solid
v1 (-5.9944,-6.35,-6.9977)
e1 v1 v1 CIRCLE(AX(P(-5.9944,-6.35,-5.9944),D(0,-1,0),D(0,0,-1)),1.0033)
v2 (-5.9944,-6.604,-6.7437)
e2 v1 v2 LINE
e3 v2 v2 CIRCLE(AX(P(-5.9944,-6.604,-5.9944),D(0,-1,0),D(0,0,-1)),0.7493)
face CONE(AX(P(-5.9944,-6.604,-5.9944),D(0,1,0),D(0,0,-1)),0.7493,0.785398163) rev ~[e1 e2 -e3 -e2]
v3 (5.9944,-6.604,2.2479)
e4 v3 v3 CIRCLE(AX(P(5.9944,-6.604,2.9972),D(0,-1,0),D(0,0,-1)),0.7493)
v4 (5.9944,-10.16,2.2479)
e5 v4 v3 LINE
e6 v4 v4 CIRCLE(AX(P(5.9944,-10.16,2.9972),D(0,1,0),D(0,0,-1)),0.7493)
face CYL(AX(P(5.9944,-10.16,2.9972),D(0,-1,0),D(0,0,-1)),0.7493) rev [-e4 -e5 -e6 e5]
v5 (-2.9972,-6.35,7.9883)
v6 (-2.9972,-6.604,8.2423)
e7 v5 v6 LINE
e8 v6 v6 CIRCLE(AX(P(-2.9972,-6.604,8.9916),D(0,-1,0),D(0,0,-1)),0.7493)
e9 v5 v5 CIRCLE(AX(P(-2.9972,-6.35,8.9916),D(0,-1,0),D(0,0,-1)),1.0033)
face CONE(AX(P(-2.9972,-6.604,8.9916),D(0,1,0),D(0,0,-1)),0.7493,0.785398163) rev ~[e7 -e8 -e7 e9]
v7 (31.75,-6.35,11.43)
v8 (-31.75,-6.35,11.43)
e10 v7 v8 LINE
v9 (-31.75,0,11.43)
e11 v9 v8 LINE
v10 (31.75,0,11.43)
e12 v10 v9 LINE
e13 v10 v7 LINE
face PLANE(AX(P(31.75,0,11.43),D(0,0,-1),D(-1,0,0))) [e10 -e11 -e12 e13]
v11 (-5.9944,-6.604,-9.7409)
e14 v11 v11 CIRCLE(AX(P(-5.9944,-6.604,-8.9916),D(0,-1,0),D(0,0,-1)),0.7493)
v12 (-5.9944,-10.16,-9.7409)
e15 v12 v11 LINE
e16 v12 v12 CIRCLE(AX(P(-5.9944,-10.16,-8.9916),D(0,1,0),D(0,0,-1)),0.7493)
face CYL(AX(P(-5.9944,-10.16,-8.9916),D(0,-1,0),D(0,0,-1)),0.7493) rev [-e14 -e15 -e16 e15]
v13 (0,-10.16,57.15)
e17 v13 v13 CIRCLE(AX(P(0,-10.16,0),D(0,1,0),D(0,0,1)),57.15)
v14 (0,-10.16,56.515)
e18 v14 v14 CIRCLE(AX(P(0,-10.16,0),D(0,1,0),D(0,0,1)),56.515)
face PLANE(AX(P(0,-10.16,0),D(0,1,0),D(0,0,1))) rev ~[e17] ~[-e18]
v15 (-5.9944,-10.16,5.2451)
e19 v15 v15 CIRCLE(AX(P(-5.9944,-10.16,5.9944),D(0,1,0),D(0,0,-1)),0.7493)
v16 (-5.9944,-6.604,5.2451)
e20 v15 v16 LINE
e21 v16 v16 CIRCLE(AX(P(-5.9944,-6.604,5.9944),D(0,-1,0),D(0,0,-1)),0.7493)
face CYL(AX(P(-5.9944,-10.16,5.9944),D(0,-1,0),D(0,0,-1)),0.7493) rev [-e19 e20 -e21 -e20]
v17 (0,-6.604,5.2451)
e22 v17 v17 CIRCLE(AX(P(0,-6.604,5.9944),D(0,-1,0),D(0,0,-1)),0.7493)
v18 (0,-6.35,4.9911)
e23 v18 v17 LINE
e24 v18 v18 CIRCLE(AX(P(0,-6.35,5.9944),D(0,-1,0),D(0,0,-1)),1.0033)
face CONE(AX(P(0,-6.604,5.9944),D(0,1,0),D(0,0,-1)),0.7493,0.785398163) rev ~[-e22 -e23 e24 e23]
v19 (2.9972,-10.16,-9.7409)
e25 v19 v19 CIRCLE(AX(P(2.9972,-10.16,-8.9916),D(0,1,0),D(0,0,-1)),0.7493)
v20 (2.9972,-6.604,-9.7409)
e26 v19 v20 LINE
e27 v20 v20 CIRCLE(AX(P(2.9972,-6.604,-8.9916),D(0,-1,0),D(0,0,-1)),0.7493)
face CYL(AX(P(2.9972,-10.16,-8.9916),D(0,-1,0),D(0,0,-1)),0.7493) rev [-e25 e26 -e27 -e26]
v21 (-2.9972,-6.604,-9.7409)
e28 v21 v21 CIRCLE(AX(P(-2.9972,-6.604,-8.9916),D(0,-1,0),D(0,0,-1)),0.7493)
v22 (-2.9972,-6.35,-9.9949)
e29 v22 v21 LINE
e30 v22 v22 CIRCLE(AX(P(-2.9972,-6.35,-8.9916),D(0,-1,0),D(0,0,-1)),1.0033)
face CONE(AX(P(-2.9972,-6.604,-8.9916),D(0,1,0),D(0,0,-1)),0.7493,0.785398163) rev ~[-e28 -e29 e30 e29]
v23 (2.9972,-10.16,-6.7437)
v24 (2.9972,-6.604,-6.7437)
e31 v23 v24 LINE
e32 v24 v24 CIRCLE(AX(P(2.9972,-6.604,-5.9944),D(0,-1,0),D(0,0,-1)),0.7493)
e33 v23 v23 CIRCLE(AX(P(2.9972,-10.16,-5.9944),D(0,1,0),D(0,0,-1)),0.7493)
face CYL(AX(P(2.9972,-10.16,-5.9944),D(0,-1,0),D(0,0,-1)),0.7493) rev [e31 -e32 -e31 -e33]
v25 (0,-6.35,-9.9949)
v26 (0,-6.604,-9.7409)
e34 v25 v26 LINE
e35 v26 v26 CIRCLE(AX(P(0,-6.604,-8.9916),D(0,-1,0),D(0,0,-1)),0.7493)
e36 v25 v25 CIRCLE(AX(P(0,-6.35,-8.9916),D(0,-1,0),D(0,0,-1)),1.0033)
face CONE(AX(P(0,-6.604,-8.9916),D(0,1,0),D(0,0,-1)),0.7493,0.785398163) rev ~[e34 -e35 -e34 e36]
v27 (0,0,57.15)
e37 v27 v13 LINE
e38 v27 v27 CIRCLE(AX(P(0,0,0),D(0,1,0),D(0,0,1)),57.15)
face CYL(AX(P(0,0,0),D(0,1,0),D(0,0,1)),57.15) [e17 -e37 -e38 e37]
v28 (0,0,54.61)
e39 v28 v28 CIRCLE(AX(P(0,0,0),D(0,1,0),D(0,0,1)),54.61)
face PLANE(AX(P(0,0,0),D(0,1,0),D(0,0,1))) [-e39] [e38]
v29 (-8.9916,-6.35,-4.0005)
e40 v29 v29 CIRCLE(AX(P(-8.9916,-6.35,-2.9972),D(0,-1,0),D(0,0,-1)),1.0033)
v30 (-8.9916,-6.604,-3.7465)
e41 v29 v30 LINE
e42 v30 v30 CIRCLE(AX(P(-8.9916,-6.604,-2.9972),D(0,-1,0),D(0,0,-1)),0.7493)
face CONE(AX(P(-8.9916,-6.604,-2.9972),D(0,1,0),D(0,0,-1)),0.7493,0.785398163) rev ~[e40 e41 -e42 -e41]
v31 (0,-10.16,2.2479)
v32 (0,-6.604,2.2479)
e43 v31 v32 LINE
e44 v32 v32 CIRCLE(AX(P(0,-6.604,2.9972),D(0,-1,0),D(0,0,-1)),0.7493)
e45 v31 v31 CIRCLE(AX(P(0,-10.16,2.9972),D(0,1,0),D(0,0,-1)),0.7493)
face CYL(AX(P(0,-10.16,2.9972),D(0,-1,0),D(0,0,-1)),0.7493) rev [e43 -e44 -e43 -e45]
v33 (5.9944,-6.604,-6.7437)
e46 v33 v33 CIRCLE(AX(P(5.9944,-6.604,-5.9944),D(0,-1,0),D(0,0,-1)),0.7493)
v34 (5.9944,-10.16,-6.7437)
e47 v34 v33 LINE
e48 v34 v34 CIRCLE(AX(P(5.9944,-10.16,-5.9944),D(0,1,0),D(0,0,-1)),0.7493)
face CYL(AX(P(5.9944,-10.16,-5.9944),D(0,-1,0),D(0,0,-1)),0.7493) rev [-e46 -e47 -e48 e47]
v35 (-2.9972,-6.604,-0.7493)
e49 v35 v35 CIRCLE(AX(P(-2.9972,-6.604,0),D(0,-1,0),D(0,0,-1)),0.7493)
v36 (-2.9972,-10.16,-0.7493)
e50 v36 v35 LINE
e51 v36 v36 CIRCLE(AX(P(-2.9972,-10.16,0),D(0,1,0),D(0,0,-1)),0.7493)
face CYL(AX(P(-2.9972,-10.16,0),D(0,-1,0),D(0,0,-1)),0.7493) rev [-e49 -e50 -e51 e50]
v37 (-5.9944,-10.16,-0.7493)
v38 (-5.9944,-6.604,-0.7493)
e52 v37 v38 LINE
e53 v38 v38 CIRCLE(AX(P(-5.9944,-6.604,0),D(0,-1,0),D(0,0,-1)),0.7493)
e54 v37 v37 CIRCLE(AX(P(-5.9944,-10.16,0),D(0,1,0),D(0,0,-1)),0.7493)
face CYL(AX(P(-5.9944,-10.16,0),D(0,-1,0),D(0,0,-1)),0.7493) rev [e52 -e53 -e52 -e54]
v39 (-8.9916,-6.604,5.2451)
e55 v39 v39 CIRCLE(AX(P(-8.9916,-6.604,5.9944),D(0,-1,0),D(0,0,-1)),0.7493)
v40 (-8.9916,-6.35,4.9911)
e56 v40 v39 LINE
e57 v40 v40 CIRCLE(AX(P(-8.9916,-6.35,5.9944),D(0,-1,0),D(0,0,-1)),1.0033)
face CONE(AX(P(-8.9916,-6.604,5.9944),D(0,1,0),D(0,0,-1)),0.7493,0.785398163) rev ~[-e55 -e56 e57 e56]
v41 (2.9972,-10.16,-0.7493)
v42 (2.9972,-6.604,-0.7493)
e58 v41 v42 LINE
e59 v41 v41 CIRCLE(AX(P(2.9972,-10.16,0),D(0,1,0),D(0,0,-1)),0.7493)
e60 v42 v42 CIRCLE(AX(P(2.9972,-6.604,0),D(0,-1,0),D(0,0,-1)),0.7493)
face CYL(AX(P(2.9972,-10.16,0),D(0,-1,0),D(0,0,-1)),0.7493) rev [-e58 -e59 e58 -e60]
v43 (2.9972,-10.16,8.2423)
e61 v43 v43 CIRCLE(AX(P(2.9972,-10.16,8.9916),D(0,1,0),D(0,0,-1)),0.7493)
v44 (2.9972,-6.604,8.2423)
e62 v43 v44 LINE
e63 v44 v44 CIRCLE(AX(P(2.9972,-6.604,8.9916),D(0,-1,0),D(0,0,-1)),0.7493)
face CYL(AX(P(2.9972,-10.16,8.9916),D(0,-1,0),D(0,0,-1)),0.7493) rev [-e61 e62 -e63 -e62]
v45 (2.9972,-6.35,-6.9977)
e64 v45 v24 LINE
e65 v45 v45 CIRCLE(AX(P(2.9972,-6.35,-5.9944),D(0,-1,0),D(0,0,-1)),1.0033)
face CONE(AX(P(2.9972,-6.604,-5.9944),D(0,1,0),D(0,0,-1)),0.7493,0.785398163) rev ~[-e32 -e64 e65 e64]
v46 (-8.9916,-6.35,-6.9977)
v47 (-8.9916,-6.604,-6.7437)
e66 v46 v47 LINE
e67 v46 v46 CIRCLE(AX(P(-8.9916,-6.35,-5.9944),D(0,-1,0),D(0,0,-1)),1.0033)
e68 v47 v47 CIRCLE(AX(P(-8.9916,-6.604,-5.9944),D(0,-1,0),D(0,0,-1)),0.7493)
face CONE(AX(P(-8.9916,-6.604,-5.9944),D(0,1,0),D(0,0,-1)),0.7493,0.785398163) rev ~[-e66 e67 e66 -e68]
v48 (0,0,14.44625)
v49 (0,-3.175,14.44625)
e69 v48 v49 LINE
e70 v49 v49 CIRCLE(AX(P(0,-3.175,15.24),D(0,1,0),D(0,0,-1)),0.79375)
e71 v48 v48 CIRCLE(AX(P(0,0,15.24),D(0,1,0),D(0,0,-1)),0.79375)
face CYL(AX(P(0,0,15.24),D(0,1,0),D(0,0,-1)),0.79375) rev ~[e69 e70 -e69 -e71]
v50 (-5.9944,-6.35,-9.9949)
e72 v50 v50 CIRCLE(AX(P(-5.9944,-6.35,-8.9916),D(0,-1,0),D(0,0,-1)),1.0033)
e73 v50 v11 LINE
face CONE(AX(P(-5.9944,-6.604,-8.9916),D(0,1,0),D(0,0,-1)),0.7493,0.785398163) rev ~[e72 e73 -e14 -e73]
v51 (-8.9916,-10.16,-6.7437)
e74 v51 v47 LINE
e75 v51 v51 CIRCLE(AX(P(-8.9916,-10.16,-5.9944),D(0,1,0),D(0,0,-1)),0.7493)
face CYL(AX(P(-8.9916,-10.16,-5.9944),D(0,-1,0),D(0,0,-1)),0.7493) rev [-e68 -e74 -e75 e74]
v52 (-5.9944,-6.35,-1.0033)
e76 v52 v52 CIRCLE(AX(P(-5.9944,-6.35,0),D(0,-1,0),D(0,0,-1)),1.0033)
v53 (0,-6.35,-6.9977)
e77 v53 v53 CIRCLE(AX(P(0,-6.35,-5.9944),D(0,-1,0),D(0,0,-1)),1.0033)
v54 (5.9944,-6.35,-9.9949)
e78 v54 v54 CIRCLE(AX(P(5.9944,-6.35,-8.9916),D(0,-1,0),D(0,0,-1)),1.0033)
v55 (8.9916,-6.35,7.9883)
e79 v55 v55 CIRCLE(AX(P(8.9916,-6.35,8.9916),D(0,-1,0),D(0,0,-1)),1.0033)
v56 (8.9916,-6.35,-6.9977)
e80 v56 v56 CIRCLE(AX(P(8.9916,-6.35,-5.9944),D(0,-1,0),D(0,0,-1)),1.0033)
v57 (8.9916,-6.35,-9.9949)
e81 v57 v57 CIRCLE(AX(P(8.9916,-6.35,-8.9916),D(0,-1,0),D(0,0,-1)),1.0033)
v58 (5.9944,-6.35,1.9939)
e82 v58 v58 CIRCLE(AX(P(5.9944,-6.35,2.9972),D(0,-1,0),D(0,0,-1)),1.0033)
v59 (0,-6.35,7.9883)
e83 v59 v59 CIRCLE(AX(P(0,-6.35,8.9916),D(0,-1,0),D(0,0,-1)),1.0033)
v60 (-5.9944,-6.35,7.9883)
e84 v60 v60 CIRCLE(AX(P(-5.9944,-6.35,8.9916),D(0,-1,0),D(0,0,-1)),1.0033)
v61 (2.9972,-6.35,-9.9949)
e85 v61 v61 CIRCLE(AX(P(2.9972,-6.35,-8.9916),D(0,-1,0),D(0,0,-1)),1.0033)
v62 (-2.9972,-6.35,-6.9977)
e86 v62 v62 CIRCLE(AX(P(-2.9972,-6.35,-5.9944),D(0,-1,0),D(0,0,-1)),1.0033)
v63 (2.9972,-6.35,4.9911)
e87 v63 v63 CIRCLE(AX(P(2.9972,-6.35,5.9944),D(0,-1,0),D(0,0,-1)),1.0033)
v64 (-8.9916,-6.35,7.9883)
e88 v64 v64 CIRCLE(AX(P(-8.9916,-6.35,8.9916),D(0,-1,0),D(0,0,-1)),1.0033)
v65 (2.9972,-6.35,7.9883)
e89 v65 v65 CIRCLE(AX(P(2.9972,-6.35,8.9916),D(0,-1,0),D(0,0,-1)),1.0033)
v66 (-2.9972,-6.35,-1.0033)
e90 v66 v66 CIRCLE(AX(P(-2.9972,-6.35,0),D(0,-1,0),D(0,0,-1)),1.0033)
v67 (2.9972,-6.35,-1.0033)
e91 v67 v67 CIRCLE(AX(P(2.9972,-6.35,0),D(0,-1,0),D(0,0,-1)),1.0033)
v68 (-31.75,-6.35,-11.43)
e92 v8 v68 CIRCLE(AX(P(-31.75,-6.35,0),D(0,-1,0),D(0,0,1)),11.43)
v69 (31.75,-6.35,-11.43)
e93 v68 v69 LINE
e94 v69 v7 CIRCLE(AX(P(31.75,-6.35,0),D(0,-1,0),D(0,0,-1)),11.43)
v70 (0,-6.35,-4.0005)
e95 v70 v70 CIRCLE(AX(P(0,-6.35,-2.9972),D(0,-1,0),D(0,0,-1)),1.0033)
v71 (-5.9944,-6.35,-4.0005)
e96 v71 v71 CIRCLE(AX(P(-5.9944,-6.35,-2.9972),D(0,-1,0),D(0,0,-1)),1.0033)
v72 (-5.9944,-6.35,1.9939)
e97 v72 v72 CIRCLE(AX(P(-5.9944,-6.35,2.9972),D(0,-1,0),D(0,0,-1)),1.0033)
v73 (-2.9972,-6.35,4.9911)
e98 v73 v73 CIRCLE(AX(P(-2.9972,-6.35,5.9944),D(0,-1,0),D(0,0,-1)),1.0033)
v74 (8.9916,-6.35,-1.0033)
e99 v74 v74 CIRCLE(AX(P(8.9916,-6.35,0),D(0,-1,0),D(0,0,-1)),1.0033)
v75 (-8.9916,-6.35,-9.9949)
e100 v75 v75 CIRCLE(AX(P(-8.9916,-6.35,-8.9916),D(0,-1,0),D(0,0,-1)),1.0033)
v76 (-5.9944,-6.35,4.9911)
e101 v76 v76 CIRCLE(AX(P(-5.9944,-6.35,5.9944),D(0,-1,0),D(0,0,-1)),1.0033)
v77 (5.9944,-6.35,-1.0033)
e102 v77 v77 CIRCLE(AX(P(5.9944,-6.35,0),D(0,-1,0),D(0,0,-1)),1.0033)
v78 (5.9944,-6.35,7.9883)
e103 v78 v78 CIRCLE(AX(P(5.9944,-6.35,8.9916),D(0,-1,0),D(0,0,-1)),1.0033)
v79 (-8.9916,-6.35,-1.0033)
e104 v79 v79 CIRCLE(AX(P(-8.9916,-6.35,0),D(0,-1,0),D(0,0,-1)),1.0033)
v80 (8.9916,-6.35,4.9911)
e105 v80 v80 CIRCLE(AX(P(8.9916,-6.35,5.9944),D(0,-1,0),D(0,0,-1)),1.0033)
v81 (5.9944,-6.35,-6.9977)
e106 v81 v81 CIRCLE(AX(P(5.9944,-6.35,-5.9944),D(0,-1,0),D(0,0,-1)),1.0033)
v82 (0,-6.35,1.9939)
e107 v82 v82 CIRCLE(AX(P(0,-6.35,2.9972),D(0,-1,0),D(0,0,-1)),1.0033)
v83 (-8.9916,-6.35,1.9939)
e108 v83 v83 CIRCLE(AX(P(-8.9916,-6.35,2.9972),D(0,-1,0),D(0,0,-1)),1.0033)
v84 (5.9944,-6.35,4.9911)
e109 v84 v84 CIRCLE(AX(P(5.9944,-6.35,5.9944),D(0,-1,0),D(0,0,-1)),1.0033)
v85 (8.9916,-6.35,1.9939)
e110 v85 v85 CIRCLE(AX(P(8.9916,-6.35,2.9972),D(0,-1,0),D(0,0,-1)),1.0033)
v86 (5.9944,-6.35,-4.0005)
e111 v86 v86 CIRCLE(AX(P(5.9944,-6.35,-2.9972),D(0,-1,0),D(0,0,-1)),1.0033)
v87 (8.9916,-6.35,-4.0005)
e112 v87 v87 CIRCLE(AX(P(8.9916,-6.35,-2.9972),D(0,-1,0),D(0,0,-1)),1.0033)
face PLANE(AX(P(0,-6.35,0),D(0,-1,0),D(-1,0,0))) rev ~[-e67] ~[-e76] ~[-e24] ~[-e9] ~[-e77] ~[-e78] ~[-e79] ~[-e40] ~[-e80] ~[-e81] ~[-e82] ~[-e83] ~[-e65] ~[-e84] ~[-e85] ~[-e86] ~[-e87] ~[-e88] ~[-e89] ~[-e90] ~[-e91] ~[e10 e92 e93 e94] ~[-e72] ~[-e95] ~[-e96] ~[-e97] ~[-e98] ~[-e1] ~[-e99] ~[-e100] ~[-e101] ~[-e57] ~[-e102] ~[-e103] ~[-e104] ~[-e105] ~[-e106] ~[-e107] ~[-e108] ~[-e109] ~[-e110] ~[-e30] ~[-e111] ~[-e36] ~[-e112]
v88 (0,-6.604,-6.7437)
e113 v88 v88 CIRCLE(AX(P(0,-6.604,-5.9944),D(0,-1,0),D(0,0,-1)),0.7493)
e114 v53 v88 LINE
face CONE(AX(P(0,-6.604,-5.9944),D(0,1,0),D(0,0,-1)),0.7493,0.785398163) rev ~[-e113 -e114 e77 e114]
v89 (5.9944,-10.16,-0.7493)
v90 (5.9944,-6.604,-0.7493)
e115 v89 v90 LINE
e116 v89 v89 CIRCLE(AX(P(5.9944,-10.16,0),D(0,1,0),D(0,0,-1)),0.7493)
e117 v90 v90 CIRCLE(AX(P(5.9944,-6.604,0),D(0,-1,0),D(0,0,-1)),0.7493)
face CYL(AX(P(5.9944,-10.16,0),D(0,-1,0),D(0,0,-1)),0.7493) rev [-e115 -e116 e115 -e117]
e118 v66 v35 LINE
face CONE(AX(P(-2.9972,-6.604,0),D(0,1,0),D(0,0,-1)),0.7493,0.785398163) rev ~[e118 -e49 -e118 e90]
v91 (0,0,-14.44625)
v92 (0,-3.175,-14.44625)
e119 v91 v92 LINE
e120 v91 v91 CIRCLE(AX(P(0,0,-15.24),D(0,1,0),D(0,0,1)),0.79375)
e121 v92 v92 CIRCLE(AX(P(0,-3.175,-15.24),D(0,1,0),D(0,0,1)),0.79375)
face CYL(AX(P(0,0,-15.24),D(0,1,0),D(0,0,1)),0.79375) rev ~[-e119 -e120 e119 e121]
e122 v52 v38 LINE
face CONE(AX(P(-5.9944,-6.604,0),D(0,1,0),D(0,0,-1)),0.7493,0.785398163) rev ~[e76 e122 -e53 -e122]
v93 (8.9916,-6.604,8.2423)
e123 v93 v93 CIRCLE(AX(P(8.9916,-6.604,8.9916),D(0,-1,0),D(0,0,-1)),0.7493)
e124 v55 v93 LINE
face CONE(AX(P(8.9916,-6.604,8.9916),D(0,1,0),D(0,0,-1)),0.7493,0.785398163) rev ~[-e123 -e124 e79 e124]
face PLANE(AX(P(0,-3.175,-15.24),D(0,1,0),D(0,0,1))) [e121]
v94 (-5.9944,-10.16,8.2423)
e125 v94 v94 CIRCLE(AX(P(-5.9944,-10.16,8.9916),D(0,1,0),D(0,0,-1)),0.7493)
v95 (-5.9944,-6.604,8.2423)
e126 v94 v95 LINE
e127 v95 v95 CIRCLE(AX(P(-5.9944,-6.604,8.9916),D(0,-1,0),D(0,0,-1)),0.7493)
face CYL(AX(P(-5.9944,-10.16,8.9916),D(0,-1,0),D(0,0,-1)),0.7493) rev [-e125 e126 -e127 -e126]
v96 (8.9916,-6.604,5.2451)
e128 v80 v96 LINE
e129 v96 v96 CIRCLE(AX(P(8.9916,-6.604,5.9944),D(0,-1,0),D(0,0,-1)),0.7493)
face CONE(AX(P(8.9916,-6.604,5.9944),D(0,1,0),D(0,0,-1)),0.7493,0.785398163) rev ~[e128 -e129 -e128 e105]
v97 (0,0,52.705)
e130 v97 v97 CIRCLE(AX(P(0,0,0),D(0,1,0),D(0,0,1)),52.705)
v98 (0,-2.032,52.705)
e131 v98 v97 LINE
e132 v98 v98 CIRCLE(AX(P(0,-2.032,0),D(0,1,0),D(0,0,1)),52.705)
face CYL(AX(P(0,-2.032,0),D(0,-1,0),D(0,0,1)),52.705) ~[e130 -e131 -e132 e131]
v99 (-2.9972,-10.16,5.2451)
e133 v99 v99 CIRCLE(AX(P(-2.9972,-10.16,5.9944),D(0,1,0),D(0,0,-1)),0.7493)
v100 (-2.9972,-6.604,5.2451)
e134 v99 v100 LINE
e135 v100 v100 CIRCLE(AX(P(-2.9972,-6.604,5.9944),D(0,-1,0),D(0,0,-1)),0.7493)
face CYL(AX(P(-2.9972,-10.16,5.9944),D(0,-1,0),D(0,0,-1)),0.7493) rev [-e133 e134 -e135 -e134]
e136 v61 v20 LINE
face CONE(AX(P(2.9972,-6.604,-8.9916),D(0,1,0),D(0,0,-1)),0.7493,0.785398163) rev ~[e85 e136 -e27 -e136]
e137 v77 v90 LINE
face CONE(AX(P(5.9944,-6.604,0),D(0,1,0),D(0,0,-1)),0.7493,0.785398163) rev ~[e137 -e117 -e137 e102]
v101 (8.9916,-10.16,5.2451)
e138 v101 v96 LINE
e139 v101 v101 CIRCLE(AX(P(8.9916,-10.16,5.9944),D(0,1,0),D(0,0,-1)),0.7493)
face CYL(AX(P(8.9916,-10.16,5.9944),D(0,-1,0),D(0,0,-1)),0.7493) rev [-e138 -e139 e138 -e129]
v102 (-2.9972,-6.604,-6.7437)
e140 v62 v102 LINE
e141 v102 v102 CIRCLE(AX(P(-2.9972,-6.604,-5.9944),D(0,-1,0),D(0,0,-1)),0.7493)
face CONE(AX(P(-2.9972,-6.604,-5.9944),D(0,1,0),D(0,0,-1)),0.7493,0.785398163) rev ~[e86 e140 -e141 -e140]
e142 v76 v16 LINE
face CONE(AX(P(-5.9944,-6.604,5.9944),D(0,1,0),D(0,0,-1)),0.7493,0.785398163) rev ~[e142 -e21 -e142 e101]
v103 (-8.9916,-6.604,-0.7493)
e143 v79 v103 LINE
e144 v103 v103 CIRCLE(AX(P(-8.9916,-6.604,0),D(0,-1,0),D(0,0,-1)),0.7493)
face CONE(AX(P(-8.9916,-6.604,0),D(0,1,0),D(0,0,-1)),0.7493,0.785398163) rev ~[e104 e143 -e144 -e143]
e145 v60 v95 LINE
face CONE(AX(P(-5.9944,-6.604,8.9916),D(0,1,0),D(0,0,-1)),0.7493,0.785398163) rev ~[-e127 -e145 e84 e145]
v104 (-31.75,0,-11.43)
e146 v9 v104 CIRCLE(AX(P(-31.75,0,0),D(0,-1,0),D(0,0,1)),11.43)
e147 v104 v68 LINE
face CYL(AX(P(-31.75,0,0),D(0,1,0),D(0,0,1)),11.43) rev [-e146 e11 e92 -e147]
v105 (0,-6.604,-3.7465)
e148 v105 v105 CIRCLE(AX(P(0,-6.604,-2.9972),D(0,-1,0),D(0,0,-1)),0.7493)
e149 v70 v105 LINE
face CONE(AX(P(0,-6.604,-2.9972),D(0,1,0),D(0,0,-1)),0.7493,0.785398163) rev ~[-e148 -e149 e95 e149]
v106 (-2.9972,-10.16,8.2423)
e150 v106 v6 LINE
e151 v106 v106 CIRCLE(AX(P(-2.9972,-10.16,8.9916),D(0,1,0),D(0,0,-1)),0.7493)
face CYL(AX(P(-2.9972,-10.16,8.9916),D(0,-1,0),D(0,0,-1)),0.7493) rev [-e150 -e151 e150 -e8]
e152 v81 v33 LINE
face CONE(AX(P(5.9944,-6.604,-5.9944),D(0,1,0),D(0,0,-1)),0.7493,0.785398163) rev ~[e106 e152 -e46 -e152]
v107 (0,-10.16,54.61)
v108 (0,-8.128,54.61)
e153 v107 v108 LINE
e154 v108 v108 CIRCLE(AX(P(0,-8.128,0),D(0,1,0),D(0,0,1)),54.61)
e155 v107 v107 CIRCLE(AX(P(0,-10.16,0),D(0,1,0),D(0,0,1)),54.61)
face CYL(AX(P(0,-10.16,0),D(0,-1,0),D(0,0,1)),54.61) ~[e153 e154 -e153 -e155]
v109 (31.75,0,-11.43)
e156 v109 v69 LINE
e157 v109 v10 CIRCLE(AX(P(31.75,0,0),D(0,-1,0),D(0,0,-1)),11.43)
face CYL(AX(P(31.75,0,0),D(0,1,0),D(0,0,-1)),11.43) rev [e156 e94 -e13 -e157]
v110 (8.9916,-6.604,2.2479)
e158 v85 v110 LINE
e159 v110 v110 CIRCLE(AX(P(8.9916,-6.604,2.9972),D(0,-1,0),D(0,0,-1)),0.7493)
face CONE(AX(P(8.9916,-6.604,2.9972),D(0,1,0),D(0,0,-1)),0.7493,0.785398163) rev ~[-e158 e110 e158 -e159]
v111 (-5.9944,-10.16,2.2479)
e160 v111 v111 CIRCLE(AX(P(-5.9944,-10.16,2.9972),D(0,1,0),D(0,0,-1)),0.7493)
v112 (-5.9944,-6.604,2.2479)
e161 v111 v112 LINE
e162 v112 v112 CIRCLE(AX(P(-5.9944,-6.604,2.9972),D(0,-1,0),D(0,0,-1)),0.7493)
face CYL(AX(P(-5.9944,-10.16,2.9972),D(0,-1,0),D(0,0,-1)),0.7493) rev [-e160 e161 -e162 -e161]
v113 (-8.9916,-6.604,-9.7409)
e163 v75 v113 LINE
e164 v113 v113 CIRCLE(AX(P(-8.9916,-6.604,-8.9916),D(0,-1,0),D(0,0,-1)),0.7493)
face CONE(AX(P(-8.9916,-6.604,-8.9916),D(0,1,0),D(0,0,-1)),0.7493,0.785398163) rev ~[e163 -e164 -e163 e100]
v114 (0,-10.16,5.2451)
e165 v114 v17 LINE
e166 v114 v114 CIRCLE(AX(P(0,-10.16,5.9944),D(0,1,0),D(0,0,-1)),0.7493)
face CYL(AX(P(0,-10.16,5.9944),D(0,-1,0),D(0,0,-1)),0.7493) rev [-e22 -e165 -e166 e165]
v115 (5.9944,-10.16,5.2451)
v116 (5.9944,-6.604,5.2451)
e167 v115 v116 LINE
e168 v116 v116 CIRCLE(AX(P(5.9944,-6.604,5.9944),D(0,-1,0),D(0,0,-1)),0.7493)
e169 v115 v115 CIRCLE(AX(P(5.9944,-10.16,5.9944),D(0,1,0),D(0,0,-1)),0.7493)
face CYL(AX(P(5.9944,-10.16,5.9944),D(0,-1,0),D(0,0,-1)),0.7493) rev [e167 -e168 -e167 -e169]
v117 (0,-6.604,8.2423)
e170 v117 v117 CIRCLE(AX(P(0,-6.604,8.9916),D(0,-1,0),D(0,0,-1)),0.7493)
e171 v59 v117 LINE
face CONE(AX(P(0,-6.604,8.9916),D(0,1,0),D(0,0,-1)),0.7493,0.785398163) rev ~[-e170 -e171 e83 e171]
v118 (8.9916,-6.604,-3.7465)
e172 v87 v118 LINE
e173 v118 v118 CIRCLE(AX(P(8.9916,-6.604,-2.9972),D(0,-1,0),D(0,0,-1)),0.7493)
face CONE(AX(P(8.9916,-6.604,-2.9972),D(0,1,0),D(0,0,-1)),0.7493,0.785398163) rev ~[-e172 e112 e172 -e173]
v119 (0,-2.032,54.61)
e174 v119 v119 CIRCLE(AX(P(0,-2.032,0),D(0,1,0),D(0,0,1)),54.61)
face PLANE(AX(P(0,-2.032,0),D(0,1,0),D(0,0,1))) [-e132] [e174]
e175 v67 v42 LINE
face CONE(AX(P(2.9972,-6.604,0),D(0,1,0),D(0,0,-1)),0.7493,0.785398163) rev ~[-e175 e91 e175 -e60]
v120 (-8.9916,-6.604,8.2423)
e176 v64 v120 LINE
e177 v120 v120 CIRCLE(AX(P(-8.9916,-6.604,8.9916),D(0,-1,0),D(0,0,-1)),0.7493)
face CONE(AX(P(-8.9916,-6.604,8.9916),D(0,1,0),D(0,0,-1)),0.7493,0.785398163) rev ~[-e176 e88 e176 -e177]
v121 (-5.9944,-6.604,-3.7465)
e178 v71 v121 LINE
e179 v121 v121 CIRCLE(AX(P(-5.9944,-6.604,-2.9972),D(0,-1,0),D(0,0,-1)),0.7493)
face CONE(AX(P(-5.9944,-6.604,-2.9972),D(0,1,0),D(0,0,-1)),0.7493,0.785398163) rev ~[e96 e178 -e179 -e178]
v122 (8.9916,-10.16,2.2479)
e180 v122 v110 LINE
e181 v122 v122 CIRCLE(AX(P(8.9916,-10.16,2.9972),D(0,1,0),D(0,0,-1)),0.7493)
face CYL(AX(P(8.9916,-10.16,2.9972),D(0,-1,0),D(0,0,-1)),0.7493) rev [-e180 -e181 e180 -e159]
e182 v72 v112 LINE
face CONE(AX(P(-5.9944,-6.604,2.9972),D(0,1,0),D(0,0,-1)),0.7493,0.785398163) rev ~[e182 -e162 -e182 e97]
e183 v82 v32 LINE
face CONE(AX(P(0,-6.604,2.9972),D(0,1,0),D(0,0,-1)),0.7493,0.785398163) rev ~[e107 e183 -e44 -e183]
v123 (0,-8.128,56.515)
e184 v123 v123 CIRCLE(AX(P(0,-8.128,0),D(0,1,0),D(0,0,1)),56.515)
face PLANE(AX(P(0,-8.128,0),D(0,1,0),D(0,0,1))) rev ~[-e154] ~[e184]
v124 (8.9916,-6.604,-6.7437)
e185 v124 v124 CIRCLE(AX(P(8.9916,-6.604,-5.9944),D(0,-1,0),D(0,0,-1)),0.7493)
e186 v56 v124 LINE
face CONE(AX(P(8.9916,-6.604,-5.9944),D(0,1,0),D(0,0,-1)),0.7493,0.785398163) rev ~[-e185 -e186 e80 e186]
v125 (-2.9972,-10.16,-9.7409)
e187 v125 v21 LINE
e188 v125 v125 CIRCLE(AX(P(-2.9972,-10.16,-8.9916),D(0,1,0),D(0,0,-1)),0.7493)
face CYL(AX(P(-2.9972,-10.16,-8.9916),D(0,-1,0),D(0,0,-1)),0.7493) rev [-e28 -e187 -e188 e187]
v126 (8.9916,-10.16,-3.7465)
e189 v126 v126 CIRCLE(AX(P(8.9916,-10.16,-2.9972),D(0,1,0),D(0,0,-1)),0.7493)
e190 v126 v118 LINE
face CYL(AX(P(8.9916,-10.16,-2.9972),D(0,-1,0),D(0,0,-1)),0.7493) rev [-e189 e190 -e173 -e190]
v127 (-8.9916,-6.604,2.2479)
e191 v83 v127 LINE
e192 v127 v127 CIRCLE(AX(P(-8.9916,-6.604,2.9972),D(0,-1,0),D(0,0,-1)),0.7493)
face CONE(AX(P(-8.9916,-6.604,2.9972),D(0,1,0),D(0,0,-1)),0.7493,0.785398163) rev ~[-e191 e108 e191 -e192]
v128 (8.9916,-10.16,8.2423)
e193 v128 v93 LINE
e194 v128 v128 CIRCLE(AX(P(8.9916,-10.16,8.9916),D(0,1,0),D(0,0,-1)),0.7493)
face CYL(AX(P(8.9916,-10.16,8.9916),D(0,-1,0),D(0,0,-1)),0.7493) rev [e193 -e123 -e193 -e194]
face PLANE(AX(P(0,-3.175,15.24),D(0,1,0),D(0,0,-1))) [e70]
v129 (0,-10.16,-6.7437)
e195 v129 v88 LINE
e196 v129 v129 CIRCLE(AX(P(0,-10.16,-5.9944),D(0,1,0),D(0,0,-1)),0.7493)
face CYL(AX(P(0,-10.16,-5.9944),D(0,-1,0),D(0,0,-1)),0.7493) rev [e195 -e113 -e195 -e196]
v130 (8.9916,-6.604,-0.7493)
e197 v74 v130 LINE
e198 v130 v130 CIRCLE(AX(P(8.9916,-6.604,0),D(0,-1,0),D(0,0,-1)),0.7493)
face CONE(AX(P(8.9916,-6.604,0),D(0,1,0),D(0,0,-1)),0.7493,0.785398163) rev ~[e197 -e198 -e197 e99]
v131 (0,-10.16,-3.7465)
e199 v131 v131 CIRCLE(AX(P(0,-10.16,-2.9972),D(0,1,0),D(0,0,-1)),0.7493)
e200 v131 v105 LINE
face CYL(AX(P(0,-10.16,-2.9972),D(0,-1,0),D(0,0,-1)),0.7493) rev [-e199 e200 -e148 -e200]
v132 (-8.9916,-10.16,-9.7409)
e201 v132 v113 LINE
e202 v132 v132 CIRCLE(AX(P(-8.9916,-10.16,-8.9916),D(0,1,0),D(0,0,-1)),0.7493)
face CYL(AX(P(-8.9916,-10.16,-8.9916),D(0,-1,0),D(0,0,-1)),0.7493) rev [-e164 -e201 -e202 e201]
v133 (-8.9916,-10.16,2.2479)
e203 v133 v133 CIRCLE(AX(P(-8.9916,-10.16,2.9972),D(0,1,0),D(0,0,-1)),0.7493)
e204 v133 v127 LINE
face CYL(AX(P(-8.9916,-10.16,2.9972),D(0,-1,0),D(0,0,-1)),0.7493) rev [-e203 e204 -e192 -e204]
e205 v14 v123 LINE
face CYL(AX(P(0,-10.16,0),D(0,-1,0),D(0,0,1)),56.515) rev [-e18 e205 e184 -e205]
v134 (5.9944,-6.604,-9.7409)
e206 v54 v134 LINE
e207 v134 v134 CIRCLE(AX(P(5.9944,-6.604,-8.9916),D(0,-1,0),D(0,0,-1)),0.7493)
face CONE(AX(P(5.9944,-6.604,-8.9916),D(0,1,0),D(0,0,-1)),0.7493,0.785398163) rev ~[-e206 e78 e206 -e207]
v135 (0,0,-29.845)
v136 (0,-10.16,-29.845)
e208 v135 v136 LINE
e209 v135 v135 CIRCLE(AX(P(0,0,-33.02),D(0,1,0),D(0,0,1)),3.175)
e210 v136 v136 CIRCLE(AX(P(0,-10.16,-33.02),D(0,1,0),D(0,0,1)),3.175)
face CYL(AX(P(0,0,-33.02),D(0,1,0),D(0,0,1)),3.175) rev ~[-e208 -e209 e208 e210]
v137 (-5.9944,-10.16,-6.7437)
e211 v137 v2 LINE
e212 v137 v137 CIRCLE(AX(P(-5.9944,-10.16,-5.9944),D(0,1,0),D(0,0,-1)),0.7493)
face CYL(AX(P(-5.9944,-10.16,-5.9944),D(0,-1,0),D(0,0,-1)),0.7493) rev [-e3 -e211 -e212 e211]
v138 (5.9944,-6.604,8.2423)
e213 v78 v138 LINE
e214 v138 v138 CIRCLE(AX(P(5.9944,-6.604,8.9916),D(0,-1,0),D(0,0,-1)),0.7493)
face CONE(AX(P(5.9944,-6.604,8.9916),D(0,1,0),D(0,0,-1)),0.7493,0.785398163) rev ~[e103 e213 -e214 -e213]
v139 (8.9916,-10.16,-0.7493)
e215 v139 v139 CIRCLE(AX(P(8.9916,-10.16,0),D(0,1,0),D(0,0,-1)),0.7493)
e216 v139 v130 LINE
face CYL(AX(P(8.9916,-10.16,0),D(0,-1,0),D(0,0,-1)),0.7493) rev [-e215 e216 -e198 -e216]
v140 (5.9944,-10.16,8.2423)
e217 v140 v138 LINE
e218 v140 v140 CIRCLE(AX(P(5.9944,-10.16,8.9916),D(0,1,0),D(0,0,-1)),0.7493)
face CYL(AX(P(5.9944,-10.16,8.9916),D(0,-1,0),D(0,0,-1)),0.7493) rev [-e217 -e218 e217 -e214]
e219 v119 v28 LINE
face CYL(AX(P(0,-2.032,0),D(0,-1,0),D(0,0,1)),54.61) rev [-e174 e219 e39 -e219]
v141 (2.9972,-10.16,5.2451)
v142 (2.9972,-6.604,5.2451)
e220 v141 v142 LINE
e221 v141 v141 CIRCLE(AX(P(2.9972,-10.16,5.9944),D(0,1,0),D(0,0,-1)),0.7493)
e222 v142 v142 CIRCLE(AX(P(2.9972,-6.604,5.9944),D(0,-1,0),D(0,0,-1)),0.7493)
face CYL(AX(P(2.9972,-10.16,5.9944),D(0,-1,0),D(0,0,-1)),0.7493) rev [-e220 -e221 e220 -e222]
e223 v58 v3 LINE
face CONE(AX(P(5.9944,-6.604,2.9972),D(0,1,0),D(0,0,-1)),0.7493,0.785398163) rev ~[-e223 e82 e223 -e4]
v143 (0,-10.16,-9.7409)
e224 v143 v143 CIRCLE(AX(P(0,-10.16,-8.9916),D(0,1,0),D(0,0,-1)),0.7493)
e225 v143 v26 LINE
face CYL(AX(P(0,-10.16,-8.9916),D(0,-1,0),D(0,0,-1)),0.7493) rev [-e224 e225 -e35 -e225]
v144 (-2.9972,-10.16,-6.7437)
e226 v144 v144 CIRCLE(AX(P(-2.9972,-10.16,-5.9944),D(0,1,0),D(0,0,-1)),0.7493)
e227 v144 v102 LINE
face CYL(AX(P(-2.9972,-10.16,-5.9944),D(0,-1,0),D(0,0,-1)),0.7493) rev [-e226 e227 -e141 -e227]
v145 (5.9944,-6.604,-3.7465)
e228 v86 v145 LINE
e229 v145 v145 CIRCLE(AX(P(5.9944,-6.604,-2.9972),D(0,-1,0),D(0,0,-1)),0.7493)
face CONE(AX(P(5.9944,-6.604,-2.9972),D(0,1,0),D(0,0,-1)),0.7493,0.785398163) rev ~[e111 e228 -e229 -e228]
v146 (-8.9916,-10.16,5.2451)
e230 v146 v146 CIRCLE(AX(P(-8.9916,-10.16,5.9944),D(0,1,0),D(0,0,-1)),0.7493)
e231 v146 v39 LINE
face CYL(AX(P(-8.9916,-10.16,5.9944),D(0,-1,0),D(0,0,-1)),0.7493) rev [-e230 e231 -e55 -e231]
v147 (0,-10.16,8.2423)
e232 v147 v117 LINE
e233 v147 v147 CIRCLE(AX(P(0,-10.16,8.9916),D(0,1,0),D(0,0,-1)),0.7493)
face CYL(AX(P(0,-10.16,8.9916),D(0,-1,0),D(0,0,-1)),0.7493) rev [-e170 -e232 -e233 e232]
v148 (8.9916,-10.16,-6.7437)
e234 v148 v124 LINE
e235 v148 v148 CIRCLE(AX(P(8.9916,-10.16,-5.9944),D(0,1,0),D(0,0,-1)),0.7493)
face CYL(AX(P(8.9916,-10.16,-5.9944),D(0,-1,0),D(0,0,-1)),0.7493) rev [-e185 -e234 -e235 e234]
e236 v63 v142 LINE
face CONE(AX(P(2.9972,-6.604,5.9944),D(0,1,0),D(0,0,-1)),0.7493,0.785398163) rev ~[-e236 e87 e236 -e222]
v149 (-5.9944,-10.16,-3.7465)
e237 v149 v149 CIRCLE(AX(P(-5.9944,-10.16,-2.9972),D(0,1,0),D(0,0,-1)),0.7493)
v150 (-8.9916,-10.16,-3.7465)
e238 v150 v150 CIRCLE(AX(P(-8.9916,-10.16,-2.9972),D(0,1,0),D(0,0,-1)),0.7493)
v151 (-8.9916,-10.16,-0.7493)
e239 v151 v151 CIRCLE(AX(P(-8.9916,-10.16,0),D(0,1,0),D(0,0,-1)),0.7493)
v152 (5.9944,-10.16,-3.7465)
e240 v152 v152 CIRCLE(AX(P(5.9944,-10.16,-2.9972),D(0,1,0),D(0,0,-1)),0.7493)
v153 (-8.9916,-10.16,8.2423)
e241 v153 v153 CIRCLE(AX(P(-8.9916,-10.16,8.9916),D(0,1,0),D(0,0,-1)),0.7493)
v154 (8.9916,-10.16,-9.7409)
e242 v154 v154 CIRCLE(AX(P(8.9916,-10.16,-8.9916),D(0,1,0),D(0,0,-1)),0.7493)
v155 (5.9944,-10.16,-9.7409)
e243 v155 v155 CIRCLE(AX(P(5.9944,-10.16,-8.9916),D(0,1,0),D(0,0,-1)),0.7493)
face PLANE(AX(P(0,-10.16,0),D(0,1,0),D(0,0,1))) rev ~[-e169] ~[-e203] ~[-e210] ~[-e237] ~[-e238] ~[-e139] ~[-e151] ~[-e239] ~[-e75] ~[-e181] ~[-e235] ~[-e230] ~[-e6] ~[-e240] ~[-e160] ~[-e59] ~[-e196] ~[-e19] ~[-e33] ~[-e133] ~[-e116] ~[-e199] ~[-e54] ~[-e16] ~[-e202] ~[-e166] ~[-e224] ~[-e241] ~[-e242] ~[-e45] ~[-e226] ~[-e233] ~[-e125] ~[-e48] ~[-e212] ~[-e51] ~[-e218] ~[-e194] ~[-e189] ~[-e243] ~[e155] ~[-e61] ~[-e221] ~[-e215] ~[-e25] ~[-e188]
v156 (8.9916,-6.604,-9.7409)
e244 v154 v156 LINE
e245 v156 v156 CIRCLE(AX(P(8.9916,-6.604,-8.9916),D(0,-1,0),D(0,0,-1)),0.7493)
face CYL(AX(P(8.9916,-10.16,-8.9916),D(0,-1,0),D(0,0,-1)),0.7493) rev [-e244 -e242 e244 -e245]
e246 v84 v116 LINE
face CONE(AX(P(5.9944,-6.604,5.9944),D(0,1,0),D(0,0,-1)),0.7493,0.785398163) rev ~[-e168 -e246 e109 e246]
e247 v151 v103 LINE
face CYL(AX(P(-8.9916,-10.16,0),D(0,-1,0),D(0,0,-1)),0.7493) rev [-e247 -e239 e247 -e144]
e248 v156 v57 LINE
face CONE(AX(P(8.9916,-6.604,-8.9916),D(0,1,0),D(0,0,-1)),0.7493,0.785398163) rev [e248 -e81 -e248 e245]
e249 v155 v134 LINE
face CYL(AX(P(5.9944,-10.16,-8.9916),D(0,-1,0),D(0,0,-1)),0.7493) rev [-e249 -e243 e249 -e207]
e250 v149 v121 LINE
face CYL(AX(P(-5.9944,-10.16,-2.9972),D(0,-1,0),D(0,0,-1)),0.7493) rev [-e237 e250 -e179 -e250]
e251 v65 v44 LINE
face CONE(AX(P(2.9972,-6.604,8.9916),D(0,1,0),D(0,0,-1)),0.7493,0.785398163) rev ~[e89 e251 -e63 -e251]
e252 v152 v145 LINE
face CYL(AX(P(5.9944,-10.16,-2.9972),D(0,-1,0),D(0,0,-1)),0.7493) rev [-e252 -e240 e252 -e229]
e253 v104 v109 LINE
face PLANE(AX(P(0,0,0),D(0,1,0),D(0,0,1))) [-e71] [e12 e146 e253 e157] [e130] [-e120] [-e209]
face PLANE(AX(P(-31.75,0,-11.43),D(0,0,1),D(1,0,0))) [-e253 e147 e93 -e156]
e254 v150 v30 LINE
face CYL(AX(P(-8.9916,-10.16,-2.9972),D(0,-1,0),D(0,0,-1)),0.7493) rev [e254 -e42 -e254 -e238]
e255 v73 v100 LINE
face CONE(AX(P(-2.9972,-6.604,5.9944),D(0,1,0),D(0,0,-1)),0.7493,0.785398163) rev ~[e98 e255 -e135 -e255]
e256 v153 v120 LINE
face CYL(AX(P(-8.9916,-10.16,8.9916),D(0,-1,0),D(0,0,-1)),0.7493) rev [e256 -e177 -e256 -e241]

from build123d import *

# Parameters (mm, degrees)
SKETCH1_R                               = 57.15
BILLET_DEPTH                            = 10.16
KEROSENE_WELL_DEPTH                     = 6.35
FIRST_KEROSENE_OUTLET_REACH             = 83.458
SKETCH4_R                               = 0.7493
BOTTOM_NEEDLE_CHAMFER_SIZE              = 0.254
LPATTERN1_COUNT                         = 7
LPATTERN1_PITCH                         = 2.9972
LPATTERN1_COUNT_DIR2                    = 7
LPATTERN1_PITCH_DIR2                    = 2.9972
BOTTOM_NEEDLE_CHAMFER_OF_LPATTERN1_SIZE = 0.254
SKETCH13_R                              = 0.79375
DOWEL_HOLES_DEPTH                       = 3.175
MANIFOLD_HOLE_REACH                     = 83.458
SKETCH14_R                              = 3.175
SKETCH15_R                              = 56.515
SKETCH15_R_2                            = 54.61
CHAMBER_O_RING_DEPTH                    = 2.032
CUT_EXTRUDE4_START                      = -2.032
SKETCH16_R                              = 54.61
SKETCH16_R_2                            = 52.705
CUT_EXTRUDE4_DEPTH                      = 2.032


with BuildPart() as part:
    # Sketch1 → Billet (new body)
    with BuildSketch(Plane(origin=(0, 0, 0), x_dir=(1, 0, 0), z_dir=(0, 1, 0))):
        Circle(SKETCH1_R)
    extrude(amount=-BILLET_DEPTH)

    # Sketch2 → Kerosene Well (cut)
    with BuildSketch(Plane(origin=(0, 0, 0), x_dir=(1, 0, 0), z_dir=(0, 1, 0))):
        with BuildLine():
            Line((-31.75, 11.43), (31.75, 11.43))
            ThreePointArc((31.75, 11.43), (43.18, 0), (31.75, -11.43))
            Line((31.75, -11.43), (-31.75, -11.43))
            ThreePointArc((-31.75, -11.43), (-43.18, 0), (-31.75, 11.43))
        make_face()
    extrude(amount=-KEROSENE_WELL_DEPTH, mode=Mode.SUBTRACT)

    # Sketch4 → First Kerosene Outlet (cut, up to next)
    with BuildSketch(Plane(origin=(0, -10.16, 0), x_dir=(1, 0, 0), z_dir=(0, 1, 0)), mode=Mode.PRIVATE) as first_kerosene_outlet_sk1:
        with Locations((8.9916, 8.9916)):
            Circle(SKETCH4_R)
    first_kerosene_outlet_tool1 = extrude(first_kerosene_outlet_sk1.sketch, amount=FIRST_KEROSENE_OUTLET_REACH, mode=Mode.PRIVATE) & part.part
    first_kerosene_outlet = first_kerosene_outlet_tool1.solids().sort_by_distance((8.9916, -10.16, -8.9916))[0]
    add(first_kerosene_outlet, mode=Mode.SUBTRACT)

    # Bottom Needle Chamfer
    bottom_needle_chamfer_edges = [part.edges().sort_by_distance(p)[0] for p in [
        (8.2423, -6.35, -8.9916),
    ]]
    chamfer(bottom_needle_chamfer_edges, length=BOTTOM_NEEDLE_CHAMFER_SIZE)

    # LPattern1: First Kerosene Outlet 7 × 7, 5 skipped
    with Locations(*[(-j * LPATTERN1_PITCH_DIR2, 0, i * LPATTERN1_PITCH) for i in range(LPATTERN1_COUNT) for j in range(LPATTERN1_COUNT_DIR2) if (i, j) not in ((0, 0), (2, 2), (2, 4), (3, 3), (4, 2), (4, 4))]):
        add(first_kerosene_outlet, mode=Mode.SUBTRACT)

    # Bottom Needle Chamfer of LPattern1
    bottom_needle_chamfer_of_lpattern1_edges = [part.edges().sort_by_distance(p)[0] for p in [
        (5.2451, -6.35, -8.9916),
        (2.2479, -6.35, -8.9916),
        (-0.7493, -6.35, -8.9916),
        (-3.7465, -6.35, -8.9916),
        (-6.7437, -6.35, -8.9916),
        (-9.7409, -6.35, -8.9916),
        (8.2423, -6.35, -5.9944),
        (5.2451, -6.35, -5.9944),
        (2.2479, -6.35, -5.9944),
        (-0.7493, -6.35, -5.9944),
        (-3.7465, -6.35, -5.9944),
        (-6.7437, -6.35, -5.9944),
        (-9.7409, -6.35, -5.9944),
        (8.2423, -6.35, -2.9972),
        (5.2451, -6.35, -2.9972),
        (-0.7493, -6.35, -2.9972),
        (-6.7437, -6.35, -2.9972),
        (-9.7409, -6.35, -2.9972),
        (8.2423, -6.35, 0),
        (5.2451, -6.35, 0),
        (2.2479, -6.35, 0),
        (-3.7465, -6.35, 0),
        (-6.7437, -6.35, 0),
        (-9.7409, -6.35, 0),
        (8.2423, -6.35, 2.9972),
        (5.2451, -6.35, 2.9972),
        (-0.7493, -6.35, 2.9972),
        (-6.7437, -6.35, 2.9972),
        (-9.7409, -6.35, 2.9972),
        (8.2423, -6.35, 5.9944),
        (5.2451, -6.35, 5.9944),
        (2.2479, -6.35, 5.9944),
        (-0.7493, -6.35, 5.9944),
        (-3.7465, -6.35, 5.9944),
        (-6.7437, -6.35, 5.9944),
        (-9.7409, -6.35, 5.9944),
        (8.2423, -6.35, 8.9916),
        (5.2451, -6.35, 8.9916),
        (2.2479, -6.35, 8.9916),
        (-0.7493, -6.35, 8.9916),
        (-3.7465, -6.35, 8.9916),
        (-6.7437, -6.35, 8.9916),
        (-9.7409, -6.35, 8.9916),
    ]]
    chamfer(bottom_needle_chamfer_of_lpattern1_edges, length=BOTTOM_NEEDLE_CHAMFER_OF_LPATTERN1_SIZE)

    # Sketch13 → Dowel Holes (cut)
    with BuildSketch(Plane(origin=(0, 0, 0), x_dir=(1, 0, 0), z_dir=(0, 1, 0))):
        with Locations((0, 15.24)):
            Circle(SKETCH13_R)
        with Locations((0, -15.24)):
            Circle(SKETCH13_R)
    extrude(amount=-DOWEL_HOLES_DEPTH, mode=Mode.SUBTRACT)

    # Sketch14 → Manifold Hole (cut, up to next)
    with BuildSketch(Plane(origin=(0, 0, 0), x_dir=(1, 0, 0), z_dir=(0, 1, 0)), mode=Mode.PRIVATE) as manifold_hole_sk1:
        with Locations((0, 33.02)):
            Circle(SKETCH14_R)
    manifold_hole_tool1 = extrude(manifold_hole_sk1.sketch, amount=-MANIFOLD_HOLE_REACH, mode=Mode.PRIVATE) & part.part
    add(manifold_hole_tool1.solids().sort_by_distance((0, 0, -33.02))[0], mode=Mode.SUBTRACT)

    # Sketch15 → Chamber O Ring (cut)
    with BuildSketch(Plane(origin=(0, -10.16, 0), x_dir=(1, 0, 0), z_dir=(0, 1, 0))):
        Circle(SKETCH15_R)
        Circle(SKETCH15_R_2, mode=Mode.SUBTRACT)
    extrude(amount=CHAMBER_O_RING_DEPTH, mode=Mode.SUBTRACT)

    # Sketch16 → Cut-Extrude4 (cut)
    with BuildSketch(Plane(origin=(0, 0, 0), x_dir=(1, 0, 0), z_dir=(0, 1, 0)).offset(CUT_EXTRUDE4_START)):
        Circle(SKETCH16_R)
        Circle(SKETCH16_R_2, mode=Mode.SUBTRACT)
    extrude(amount=CUT_EXTRUDE4_DEPTH, mode=Mode.SUBTRACT)


solid = part.part
